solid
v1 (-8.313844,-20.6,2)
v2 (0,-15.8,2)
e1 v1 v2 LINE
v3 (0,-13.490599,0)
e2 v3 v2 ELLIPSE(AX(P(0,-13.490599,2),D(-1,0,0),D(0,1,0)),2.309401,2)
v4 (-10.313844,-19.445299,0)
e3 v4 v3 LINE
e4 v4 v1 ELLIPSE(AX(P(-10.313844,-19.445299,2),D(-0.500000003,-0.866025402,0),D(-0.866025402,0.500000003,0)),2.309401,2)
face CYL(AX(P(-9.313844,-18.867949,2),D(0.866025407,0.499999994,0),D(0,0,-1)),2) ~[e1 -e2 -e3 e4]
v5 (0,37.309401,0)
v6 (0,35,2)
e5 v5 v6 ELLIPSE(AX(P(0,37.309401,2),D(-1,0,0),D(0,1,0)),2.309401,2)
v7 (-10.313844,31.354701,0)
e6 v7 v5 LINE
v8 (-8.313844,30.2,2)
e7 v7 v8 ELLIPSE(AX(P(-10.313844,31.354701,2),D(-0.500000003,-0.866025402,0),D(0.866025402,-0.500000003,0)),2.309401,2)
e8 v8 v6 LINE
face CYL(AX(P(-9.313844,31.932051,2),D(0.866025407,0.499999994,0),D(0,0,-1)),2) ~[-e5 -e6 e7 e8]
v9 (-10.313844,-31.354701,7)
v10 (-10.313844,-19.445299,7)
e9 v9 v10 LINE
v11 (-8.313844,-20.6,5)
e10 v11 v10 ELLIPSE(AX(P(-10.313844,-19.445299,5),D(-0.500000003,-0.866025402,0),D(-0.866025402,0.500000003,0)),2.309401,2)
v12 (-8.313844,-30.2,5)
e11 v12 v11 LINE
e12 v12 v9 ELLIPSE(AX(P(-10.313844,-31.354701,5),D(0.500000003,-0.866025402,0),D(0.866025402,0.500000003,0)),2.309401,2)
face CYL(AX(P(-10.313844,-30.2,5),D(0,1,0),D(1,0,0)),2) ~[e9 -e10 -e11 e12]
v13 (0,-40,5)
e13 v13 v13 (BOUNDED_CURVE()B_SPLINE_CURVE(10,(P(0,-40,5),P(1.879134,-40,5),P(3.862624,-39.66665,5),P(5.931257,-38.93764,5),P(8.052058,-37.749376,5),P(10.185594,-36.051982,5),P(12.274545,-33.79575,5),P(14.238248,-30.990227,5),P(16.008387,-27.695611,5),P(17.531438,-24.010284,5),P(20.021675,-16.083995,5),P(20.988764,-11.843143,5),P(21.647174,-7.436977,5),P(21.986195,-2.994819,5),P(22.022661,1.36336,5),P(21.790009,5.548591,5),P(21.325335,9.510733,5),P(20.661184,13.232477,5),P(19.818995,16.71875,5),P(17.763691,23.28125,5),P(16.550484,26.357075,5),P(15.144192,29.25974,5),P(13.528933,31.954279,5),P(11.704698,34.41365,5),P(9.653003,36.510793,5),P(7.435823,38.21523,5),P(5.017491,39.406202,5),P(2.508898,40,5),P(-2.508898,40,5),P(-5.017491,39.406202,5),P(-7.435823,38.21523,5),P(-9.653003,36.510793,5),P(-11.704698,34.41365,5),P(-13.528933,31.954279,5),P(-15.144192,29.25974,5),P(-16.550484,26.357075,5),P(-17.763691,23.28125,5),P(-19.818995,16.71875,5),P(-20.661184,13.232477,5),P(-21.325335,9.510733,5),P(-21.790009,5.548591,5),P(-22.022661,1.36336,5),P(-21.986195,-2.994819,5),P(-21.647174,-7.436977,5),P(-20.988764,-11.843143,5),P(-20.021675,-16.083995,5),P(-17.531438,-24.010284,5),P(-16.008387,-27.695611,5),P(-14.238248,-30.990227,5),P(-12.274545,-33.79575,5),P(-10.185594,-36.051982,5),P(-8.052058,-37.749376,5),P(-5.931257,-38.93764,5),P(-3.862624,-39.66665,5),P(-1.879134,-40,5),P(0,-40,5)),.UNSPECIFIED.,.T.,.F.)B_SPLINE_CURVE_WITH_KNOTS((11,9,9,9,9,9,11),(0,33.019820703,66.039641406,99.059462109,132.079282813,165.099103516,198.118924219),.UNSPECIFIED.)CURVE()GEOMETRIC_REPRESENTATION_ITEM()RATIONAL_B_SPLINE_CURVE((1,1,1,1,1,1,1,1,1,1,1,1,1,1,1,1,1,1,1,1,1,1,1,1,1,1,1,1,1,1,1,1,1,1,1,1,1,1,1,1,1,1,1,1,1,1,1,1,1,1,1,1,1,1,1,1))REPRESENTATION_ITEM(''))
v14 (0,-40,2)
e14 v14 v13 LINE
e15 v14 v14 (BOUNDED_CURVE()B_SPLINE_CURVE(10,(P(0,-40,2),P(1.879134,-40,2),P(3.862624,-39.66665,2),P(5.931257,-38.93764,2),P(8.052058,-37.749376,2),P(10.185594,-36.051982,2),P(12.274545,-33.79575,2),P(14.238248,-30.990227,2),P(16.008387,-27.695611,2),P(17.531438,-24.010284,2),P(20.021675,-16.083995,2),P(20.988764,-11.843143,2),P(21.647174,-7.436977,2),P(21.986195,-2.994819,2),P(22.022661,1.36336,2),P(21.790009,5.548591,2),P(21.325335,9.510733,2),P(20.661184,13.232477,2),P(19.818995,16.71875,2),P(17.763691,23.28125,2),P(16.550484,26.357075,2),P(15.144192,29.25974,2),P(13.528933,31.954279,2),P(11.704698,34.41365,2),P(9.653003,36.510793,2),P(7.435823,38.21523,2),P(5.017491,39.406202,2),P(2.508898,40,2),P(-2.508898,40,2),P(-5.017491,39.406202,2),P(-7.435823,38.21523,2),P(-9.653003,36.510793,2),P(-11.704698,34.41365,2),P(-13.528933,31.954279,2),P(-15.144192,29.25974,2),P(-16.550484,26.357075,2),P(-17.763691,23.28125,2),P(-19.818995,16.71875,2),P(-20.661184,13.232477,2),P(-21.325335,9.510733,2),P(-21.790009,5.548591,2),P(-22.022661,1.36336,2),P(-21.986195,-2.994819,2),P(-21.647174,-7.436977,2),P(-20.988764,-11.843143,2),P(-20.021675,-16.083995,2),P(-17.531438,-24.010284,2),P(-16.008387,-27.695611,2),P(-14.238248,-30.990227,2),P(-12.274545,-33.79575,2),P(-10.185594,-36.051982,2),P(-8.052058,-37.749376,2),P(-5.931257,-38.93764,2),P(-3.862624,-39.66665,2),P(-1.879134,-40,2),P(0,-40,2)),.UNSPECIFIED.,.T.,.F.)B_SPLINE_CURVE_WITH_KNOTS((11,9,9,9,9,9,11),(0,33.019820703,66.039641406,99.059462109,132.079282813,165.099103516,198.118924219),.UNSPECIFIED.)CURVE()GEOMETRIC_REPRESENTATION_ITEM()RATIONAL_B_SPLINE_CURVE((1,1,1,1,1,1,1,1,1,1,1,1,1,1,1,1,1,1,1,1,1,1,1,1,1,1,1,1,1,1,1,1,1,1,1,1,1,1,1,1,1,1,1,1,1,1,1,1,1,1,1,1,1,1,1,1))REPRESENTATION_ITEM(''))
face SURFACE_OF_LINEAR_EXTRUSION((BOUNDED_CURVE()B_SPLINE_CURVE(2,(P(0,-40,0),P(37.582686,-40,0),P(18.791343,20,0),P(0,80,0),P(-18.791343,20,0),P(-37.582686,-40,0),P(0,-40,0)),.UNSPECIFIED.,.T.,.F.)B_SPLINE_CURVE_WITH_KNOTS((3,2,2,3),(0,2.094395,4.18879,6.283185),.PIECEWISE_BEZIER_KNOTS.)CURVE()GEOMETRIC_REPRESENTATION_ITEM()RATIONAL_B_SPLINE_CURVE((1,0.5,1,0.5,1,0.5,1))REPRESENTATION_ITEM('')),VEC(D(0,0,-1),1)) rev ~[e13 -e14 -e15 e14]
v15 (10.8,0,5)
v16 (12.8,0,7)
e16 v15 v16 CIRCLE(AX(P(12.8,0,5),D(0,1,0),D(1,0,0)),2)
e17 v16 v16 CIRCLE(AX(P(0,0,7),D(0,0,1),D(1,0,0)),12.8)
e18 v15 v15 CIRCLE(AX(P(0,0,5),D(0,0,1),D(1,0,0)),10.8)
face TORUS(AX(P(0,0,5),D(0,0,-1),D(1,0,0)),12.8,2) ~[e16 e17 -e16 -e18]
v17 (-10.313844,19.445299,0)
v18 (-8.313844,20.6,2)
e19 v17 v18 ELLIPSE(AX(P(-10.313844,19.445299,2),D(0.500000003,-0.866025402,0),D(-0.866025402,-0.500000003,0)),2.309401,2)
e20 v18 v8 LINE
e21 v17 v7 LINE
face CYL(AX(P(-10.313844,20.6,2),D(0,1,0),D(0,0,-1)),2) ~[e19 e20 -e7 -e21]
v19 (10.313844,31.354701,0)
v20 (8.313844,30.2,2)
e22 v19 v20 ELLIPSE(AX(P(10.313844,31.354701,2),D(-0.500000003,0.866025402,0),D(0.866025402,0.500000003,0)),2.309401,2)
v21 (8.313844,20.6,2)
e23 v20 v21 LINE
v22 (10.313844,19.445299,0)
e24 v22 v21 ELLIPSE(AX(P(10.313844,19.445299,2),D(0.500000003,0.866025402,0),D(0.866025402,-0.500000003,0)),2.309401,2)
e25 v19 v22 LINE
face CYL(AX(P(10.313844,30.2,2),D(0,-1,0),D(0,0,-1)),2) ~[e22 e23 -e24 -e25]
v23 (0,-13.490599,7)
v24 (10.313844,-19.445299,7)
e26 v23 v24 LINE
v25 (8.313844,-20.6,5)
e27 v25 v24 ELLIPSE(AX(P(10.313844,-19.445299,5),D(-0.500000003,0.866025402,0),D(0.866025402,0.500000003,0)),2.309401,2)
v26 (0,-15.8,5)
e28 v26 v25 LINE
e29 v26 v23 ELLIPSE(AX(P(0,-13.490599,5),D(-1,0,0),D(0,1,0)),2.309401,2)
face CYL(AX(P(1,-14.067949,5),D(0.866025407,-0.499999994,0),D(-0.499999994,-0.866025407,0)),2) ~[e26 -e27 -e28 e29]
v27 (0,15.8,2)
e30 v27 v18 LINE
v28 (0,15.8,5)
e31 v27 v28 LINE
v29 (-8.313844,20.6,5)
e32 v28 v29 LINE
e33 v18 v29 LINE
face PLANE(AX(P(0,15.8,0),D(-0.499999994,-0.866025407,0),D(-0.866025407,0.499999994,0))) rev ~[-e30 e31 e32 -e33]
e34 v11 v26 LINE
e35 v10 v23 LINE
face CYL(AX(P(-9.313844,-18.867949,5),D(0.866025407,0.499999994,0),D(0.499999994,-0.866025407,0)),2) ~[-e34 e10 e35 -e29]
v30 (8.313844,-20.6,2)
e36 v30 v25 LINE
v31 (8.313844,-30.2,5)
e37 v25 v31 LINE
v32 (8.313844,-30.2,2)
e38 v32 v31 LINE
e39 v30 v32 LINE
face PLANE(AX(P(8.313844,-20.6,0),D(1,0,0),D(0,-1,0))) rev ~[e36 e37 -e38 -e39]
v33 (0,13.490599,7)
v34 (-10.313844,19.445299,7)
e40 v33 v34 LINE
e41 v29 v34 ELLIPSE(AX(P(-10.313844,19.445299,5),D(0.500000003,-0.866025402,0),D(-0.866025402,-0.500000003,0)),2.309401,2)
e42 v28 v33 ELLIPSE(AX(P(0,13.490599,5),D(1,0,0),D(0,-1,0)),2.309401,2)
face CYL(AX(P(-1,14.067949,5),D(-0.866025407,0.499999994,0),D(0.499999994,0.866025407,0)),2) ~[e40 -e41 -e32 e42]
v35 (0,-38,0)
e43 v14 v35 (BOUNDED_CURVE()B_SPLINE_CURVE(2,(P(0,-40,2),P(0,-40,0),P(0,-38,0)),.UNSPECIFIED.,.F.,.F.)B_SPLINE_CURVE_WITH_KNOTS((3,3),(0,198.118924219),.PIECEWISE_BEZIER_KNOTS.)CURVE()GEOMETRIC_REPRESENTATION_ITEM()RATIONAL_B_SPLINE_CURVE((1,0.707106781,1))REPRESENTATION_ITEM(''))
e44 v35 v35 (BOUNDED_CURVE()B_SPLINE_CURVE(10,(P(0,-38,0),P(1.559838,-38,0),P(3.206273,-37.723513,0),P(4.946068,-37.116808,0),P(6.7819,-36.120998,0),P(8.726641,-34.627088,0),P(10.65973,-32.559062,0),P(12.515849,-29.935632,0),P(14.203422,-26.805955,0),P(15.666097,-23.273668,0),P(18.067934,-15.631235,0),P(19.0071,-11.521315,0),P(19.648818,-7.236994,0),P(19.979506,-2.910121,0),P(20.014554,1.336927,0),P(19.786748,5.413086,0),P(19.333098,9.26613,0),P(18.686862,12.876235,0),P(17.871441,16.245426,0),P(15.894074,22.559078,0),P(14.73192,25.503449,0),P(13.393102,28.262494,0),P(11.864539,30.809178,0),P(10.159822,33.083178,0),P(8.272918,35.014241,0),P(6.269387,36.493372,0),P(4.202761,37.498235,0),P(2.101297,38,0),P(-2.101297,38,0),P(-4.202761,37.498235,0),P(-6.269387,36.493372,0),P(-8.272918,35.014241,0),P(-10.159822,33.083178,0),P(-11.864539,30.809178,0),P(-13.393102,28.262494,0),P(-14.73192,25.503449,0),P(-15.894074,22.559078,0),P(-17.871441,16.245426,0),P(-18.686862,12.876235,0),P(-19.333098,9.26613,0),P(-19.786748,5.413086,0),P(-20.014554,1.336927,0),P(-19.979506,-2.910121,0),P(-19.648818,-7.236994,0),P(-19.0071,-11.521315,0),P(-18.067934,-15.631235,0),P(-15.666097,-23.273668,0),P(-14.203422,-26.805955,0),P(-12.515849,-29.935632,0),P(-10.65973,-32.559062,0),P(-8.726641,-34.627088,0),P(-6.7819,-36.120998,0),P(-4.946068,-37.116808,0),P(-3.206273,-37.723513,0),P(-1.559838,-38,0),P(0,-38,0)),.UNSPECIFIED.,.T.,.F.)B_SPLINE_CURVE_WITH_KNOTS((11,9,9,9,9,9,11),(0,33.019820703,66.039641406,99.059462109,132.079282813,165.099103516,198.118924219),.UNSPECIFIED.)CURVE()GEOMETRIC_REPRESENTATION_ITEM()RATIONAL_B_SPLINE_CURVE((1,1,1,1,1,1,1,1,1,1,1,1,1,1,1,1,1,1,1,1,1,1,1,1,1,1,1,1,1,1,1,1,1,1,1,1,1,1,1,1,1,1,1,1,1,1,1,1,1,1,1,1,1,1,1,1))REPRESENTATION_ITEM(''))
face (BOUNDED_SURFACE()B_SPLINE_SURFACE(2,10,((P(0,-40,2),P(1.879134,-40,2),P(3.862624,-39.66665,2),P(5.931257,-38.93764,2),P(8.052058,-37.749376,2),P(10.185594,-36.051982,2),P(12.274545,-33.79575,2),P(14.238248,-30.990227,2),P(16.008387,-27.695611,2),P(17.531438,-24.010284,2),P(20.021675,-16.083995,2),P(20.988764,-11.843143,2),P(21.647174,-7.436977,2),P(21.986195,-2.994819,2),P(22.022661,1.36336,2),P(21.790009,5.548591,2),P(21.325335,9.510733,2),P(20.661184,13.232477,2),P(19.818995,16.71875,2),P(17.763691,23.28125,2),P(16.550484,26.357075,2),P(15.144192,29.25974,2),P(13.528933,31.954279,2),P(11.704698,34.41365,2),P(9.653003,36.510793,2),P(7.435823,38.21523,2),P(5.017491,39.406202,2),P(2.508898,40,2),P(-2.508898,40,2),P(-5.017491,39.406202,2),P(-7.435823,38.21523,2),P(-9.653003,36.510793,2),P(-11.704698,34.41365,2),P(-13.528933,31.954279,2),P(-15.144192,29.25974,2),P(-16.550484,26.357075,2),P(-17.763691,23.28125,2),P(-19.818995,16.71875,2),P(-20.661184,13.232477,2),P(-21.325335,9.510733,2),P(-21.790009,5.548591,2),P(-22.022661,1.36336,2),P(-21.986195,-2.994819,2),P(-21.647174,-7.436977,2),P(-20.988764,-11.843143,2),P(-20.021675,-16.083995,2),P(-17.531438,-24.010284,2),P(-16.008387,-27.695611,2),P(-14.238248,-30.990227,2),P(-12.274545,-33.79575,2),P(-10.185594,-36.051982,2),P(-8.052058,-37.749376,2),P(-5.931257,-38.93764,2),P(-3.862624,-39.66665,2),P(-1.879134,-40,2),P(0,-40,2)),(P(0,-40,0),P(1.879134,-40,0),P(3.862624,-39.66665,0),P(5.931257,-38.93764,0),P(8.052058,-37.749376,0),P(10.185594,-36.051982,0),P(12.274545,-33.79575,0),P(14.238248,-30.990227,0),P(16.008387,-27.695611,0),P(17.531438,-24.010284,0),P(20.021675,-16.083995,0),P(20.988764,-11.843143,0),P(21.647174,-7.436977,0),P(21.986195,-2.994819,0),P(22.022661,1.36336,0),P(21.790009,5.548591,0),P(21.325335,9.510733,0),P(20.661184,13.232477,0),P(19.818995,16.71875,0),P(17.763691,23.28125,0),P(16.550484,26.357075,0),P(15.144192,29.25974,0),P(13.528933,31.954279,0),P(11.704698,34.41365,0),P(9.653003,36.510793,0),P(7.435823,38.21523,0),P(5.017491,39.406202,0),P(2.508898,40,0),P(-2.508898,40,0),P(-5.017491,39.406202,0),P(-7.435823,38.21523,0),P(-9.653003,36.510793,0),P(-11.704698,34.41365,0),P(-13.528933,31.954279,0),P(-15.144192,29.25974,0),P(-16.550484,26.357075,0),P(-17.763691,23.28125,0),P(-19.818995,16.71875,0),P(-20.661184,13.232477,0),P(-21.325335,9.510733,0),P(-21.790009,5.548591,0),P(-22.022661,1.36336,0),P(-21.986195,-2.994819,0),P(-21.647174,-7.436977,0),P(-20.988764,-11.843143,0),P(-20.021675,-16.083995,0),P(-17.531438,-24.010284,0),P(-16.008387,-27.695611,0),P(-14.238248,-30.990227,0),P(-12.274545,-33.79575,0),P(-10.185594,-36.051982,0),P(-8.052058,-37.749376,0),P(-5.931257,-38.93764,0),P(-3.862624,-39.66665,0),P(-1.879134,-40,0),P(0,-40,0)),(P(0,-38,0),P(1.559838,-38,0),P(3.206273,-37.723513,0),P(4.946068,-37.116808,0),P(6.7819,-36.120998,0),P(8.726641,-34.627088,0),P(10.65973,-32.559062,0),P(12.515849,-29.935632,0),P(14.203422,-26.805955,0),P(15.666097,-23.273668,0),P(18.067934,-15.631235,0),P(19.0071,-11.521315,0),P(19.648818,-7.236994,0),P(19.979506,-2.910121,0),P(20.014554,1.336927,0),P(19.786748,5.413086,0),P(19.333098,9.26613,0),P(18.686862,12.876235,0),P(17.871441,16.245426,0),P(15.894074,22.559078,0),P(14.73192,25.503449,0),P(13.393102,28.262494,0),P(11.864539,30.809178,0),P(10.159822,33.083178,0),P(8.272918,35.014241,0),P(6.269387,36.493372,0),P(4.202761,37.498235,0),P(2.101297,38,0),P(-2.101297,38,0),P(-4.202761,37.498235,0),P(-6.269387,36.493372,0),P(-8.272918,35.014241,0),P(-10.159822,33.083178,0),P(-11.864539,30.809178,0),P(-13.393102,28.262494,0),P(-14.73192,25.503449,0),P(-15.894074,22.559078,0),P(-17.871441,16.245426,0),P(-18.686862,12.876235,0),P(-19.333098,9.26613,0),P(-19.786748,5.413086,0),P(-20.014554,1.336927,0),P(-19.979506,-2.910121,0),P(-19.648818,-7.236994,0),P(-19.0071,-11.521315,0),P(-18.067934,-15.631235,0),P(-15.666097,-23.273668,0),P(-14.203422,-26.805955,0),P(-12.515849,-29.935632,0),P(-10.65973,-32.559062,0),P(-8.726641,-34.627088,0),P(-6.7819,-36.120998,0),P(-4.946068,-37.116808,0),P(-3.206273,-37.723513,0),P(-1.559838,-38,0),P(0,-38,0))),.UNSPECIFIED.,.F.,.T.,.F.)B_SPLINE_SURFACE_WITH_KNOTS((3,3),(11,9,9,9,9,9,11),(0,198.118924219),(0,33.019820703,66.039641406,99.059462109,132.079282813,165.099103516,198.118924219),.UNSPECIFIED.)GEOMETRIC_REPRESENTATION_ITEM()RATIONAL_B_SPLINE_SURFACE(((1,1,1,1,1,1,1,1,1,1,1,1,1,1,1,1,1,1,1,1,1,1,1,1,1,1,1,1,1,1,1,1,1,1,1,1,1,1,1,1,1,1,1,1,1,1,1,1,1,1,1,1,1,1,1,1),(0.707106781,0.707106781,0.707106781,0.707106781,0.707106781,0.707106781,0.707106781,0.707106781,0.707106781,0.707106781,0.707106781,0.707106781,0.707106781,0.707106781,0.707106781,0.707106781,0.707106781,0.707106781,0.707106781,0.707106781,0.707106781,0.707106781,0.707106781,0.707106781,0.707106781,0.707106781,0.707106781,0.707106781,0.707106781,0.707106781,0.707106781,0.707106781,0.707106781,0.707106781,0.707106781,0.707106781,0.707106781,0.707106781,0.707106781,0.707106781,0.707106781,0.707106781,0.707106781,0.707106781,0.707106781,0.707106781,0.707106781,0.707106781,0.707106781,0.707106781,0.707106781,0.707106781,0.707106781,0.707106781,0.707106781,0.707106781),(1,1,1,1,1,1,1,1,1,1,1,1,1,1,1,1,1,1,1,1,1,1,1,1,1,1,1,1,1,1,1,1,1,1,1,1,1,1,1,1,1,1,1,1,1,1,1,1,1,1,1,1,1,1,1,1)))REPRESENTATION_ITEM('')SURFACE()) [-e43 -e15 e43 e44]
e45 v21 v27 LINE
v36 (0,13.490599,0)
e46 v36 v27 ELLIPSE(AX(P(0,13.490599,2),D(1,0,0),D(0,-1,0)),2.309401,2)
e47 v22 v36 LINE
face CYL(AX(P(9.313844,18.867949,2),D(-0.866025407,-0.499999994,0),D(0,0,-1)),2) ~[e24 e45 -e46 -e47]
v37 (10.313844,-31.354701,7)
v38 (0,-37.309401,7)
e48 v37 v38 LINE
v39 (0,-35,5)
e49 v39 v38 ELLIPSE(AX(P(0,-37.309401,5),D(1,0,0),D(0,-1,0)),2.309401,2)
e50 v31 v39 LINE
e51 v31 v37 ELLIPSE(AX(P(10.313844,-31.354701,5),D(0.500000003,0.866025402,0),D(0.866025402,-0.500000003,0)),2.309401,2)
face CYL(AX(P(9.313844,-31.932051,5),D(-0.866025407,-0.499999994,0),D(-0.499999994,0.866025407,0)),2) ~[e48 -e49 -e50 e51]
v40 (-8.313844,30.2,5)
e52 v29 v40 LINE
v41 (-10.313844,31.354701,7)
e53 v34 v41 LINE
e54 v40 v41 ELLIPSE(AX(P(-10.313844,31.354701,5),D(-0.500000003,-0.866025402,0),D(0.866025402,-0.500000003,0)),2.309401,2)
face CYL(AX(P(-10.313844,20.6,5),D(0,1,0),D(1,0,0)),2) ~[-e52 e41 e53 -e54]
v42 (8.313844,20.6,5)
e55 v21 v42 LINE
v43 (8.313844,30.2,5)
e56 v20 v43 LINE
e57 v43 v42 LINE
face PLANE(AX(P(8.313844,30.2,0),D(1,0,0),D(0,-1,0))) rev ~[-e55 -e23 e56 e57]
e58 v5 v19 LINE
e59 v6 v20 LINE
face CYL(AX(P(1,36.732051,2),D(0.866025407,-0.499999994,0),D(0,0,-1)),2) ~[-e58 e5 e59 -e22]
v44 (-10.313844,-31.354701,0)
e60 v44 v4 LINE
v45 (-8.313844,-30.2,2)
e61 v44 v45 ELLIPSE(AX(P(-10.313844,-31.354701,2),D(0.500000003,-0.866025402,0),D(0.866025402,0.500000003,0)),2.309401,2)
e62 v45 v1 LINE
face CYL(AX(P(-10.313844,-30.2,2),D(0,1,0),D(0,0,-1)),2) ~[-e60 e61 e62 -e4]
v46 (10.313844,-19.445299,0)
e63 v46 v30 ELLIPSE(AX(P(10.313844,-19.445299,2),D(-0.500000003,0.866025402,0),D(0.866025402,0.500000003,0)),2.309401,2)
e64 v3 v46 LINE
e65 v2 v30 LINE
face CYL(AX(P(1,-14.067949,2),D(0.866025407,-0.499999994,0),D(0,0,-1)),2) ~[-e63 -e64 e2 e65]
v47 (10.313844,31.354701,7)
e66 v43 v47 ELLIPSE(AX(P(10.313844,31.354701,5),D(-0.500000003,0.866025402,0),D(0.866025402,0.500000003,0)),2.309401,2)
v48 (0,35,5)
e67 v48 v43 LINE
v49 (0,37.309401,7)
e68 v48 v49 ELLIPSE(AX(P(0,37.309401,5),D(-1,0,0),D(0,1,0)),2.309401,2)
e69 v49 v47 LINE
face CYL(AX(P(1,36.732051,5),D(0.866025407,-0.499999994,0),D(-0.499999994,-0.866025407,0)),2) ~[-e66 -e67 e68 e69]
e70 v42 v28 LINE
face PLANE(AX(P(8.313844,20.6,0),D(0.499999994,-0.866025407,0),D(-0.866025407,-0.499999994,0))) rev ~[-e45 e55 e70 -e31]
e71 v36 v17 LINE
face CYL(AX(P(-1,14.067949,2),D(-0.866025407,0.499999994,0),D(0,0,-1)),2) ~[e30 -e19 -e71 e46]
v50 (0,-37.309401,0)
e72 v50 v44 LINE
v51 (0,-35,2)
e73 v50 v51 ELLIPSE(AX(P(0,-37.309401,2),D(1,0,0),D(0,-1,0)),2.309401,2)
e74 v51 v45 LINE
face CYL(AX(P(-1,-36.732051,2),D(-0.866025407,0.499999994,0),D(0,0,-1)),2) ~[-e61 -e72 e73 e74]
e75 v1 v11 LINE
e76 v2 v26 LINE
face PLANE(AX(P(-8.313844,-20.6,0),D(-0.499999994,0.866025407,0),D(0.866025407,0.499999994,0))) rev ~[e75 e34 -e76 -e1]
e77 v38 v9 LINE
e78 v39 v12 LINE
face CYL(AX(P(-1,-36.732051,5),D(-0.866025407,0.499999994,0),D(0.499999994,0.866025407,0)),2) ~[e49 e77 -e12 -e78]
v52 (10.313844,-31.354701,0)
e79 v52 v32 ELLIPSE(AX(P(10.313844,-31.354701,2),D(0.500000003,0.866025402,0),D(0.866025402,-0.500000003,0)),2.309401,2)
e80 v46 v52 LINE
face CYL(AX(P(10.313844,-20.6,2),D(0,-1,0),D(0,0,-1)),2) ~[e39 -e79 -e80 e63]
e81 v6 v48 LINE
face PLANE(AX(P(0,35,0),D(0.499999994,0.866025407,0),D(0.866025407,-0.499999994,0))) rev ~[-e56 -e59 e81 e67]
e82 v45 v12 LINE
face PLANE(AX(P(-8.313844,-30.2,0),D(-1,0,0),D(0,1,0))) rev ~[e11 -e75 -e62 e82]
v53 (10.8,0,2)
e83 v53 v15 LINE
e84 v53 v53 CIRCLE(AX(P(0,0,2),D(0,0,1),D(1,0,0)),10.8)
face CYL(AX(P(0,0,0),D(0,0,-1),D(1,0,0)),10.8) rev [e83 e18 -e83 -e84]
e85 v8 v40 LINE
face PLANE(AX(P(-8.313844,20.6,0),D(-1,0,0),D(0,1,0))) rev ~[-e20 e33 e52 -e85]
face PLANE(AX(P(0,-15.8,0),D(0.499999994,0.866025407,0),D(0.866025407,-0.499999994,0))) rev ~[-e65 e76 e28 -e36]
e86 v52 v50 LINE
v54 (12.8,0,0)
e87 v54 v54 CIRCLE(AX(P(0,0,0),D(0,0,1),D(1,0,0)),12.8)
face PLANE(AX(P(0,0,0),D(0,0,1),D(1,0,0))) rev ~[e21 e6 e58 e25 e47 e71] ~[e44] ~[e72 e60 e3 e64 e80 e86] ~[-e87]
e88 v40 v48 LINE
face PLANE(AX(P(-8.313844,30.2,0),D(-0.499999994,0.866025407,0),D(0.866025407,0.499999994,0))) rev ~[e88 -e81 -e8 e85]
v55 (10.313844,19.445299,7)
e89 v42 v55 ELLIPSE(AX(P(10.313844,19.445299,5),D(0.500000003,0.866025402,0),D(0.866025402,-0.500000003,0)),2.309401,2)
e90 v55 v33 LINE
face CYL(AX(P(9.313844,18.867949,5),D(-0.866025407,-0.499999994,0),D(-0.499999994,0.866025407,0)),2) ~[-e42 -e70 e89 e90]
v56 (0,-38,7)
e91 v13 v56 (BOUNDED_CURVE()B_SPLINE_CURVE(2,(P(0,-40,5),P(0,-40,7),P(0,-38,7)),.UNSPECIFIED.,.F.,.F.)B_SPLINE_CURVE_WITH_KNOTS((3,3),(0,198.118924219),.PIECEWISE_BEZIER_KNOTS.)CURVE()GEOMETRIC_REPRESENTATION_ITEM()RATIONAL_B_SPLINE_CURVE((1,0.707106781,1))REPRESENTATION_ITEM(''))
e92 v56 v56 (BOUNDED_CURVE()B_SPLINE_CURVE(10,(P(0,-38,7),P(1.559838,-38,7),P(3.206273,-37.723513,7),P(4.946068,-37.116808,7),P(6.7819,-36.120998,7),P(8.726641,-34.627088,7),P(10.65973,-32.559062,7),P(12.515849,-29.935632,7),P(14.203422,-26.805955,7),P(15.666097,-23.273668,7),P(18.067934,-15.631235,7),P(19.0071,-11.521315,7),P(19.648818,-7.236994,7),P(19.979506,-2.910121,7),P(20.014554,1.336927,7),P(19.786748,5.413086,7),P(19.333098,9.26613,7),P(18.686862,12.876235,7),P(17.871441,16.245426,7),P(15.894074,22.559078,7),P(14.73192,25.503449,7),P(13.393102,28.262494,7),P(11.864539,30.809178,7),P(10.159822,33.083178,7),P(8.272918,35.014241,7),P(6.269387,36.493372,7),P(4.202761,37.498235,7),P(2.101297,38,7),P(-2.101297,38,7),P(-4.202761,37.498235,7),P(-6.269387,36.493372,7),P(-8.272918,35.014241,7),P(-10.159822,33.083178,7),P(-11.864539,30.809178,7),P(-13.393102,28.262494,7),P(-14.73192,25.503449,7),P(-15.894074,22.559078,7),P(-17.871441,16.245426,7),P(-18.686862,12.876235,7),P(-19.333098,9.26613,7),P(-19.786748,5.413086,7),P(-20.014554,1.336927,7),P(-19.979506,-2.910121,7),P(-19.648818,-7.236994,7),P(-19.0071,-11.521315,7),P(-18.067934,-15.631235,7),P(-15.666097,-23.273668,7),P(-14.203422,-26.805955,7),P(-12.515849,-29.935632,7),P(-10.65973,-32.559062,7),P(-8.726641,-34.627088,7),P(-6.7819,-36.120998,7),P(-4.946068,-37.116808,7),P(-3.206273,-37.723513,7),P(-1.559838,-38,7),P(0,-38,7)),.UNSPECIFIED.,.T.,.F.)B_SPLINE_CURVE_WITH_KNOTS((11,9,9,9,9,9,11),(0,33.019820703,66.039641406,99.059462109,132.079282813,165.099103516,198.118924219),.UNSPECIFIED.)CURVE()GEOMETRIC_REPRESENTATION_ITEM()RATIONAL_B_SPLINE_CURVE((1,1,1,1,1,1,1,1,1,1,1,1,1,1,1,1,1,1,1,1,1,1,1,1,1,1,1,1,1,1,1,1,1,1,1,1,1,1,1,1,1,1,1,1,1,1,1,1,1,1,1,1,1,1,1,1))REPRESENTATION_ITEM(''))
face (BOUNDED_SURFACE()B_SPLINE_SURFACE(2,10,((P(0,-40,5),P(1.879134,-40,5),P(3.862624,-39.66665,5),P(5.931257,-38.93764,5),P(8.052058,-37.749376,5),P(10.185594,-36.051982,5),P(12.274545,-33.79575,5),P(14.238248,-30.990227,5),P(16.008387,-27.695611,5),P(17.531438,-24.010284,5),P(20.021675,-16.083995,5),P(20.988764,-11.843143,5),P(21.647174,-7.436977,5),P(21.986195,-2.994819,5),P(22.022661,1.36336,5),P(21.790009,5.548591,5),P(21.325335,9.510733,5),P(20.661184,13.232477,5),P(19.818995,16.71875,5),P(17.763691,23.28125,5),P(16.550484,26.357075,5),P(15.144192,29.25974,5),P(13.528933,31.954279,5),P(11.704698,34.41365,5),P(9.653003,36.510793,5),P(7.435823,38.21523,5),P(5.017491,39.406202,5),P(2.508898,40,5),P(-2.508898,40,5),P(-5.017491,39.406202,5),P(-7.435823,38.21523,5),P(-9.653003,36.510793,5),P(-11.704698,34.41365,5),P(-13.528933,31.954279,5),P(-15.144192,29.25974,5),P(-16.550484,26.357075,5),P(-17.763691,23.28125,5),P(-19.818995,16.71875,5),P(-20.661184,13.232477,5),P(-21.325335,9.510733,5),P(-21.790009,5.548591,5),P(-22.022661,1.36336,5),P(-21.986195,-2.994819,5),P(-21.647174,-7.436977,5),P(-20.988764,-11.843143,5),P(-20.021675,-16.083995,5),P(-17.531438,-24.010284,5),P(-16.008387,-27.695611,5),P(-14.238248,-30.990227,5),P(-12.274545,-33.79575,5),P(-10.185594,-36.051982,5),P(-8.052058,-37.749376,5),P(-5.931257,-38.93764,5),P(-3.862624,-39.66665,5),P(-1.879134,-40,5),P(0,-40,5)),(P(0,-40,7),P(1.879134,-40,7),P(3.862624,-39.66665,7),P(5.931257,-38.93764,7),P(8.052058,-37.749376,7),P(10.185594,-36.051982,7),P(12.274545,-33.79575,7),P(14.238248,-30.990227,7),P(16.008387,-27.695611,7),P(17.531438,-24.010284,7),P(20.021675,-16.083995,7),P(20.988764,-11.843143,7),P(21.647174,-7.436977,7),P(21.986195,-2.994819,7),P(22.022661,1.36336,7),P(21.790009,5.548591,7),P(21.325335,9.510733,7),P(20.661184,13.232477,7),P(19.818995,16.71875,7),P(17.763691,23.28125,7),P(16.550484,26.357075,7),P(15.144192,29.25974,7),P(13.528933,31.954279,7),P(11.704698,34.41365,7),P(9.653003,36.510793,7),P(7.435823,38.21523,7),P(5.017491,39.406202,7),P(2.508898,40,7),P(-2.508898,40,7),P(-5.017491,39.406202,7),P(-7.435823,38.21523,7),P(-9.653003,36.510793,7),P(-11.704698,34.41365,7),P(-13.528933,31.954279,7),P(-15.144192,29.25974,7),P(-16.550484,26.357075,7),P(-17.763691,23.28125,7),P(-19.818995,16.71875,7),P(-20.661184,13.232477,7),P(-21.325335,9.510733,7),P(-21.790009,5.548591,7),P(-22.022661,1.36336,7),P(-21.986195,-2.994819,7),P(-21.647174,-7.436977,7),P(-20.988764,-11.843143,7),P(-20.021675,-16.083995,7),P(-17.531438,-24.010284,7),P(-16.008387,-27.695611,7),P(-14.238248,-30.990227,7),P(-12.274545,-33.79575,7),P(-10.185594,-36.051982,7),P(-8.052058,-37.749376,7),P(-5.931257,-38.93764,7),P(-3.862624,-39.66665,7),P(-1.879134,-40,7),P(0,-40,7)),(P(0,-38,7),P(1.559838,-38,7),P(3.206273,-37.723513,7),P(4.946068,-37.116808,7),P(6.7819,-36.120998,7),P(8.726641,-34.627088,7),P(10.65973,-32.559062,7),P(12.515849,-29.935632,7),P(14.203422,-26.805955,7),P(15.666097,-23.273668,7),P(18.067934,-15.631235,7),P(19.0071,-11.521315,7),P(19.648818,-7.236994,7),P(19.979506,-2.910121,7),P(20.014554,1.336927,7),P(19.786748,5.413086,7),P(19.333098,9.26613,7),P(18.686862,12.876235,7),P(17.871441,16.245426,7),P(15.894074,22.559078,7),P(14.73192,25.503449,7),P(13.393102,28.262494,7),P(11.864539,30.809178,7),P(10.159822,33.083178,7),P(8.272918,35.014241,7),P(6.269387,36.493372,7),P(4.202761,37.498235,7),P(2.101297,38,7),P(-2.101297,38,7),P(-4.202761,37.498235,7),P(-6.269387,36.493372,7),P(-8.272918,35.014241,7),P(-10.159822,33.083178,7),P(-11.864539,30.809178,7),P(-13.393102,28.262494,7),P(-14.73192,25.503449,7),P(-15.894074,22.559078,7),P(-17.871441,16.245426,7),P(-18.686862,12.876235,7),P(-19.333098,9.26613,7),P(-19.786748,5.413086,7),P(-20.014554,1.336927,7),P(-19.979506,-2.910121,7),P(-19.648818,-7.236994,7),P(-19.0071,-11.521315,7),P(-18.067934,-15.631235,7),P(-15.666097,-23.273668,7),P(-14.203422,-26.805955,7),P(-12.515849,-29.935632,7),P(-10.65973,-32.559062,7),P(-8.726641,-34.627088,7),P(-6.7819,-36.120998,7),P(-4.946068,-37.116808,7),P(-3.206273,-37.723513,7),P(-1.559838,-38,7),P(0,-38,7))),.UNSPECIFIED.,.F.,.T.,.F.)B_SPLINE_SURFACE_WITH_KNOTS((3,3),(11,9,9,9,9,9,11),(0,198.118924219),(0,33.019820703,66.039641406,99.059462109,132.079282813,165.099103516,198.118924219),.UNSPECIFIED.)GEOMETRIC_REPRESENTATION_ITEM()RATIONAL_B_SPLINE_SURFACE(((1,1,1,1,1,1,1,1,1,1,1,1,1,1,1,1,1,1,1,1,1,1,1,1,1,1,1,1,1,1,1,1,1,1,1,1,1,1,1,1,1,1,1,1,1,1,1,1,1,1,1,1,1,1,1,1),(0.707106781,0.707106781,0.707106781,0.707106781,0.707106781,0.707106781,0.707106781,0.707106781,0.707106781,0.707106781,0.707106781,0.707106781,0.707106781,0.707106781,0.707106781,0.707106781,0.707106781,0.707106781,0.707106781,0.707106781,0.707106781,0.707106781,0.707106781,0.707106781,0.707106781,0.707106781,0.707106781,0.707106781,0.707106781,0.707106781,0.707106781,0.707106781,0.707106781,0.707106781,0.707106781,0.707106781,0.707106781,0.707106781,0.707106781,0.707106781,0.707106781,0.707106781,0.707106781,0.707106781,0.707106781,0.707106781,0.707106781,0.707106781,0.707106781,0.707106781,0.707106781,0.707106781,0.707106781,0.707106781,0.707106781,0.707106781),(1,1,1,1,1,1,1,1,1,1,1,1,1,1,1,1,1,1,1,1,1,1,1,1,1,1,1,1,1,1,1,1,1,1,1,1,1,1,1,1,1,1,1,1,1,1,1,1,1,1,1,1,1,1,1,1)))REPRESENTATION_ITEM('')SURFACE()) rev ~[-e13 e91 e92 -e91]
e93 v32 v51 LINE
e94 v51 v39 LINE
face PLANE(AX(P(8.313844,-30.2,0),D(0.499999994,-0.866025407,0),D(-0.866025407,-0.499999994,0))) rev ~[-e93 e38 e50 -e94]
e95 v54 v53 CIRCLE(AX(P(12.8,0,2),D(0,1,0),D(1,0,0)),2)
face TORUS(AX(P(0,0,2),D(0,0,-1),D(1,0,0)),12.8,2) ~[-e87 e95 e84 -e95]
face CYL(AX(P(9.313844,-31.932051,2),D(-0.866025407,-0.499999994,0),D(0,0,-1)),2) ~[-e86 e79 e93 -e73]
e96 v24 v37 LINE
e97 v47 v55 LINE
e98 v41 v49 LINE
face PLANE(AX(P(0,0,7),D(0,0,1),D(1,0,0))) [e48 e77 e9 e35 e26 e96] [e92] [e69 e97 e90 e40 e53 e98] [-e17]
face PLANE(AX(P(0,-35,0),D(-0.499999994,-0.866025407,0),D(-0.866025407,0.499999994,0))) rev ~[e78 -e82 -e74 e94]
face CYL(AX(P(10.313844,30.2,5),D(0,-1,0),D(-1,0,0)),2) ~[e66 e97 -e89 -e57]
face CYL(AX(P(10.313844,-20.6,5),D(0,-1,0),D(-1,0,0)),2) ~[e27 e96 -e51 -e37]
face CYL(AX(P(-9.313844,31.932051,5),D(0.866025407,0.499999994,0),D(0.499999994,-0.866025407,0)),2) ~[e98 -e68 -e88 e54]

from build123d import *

# Parameters (mm, degrees)
F0_R     = 10.8
F1_DEPTH = 7
F2_R     = 2
F3_R     = 2


with BuildPart() as f1:
    # F0 (on Top) → F1 (new body)
    with BuildSketch(Plane.XY):
        with BuildLine():
            add(Edge.make_bspline(
                [(0, -40), (37.582686, -40), (18.791343, 20), (0, 80), (-18.791343, 20), (-37.582686, -40), (0, -40)],
                knots=[0, 0, 0, 2.094395, 2.094395, 4.18879, 4.18879, 6.283185, 6.283185, 6.283185], degree=2, weights=[1, 0.5, 1, 0.5, 1, 0.5, 1]))
        make_face()
        Polygon((0, -15.8), (8.313844, -20.6), (8.313844, -30.2), (0, -35), (-8.313844, -30.2), (-8.313844, -20.6), align=None, mode=Mode.SUBTRACT)
        Circle(F0_R, mode=Mode.SUBTRACT)
        Polygon((0, 35), (8.313844, 30.2), (8.313844, 20.6), (0, 15.8), (-8.313844, 20.6), (-8.313844, 30.2), align=None, mode=Mode.SUBTRACT)
    extrude(amount=F1_DEPTH)

    # F2
    f2_edges = [f1.edges().sort_by_distance(p)[0] for p in [
        (2e-06, 40, 7),
        (-8.313844, -25.4, 7),
        (-4.156922, -18.2, 7),
        (4.156922, -18.2, 7),
        (8.313844, -25.4, 7),
        (4.156922, -32.6, 7),
        (-4.156922, -32.6, 7),
        (-10.8, 0, 7),
        (-4.156922, 32.6, 7),
        (4.156922, 32.6, 7),
        (8.313844, 25.4, 7),
        (4.156922, 18.2, 7),
        (-4.156922, 18.2, 7),
        (-8.313844, 25.4, 7),
    ]]
    fillet(f2_edges, radius=F2_R)

    # F3
    f3_edges = [f1.edges().sort_by_distance(p)[0] for p in [
        (2e-06, 40, 0),
        (-8.313844, -25.4, 0),
        (-4.156922, -18.2, 0),
        (4.156922, -18.2, 0),
        (8.313844, -25.4, 0),
        (4.156922, -32.6, 0),
        (-4.156922, -32.6, 0),
        (-10.8, 0, 0),
        (-4.156922, 32.6, 0),
        (4.156922, 32.6, 0),
        (8.313844, 25.4, 0),
        (4.156922, 18.2, 0),
        (-4.156922, 18.2, 0),
        (-8.313844, 25.4, 0),
    ]]
    fillet(f3_edges, radius=F3_R)


solid = f1.part
